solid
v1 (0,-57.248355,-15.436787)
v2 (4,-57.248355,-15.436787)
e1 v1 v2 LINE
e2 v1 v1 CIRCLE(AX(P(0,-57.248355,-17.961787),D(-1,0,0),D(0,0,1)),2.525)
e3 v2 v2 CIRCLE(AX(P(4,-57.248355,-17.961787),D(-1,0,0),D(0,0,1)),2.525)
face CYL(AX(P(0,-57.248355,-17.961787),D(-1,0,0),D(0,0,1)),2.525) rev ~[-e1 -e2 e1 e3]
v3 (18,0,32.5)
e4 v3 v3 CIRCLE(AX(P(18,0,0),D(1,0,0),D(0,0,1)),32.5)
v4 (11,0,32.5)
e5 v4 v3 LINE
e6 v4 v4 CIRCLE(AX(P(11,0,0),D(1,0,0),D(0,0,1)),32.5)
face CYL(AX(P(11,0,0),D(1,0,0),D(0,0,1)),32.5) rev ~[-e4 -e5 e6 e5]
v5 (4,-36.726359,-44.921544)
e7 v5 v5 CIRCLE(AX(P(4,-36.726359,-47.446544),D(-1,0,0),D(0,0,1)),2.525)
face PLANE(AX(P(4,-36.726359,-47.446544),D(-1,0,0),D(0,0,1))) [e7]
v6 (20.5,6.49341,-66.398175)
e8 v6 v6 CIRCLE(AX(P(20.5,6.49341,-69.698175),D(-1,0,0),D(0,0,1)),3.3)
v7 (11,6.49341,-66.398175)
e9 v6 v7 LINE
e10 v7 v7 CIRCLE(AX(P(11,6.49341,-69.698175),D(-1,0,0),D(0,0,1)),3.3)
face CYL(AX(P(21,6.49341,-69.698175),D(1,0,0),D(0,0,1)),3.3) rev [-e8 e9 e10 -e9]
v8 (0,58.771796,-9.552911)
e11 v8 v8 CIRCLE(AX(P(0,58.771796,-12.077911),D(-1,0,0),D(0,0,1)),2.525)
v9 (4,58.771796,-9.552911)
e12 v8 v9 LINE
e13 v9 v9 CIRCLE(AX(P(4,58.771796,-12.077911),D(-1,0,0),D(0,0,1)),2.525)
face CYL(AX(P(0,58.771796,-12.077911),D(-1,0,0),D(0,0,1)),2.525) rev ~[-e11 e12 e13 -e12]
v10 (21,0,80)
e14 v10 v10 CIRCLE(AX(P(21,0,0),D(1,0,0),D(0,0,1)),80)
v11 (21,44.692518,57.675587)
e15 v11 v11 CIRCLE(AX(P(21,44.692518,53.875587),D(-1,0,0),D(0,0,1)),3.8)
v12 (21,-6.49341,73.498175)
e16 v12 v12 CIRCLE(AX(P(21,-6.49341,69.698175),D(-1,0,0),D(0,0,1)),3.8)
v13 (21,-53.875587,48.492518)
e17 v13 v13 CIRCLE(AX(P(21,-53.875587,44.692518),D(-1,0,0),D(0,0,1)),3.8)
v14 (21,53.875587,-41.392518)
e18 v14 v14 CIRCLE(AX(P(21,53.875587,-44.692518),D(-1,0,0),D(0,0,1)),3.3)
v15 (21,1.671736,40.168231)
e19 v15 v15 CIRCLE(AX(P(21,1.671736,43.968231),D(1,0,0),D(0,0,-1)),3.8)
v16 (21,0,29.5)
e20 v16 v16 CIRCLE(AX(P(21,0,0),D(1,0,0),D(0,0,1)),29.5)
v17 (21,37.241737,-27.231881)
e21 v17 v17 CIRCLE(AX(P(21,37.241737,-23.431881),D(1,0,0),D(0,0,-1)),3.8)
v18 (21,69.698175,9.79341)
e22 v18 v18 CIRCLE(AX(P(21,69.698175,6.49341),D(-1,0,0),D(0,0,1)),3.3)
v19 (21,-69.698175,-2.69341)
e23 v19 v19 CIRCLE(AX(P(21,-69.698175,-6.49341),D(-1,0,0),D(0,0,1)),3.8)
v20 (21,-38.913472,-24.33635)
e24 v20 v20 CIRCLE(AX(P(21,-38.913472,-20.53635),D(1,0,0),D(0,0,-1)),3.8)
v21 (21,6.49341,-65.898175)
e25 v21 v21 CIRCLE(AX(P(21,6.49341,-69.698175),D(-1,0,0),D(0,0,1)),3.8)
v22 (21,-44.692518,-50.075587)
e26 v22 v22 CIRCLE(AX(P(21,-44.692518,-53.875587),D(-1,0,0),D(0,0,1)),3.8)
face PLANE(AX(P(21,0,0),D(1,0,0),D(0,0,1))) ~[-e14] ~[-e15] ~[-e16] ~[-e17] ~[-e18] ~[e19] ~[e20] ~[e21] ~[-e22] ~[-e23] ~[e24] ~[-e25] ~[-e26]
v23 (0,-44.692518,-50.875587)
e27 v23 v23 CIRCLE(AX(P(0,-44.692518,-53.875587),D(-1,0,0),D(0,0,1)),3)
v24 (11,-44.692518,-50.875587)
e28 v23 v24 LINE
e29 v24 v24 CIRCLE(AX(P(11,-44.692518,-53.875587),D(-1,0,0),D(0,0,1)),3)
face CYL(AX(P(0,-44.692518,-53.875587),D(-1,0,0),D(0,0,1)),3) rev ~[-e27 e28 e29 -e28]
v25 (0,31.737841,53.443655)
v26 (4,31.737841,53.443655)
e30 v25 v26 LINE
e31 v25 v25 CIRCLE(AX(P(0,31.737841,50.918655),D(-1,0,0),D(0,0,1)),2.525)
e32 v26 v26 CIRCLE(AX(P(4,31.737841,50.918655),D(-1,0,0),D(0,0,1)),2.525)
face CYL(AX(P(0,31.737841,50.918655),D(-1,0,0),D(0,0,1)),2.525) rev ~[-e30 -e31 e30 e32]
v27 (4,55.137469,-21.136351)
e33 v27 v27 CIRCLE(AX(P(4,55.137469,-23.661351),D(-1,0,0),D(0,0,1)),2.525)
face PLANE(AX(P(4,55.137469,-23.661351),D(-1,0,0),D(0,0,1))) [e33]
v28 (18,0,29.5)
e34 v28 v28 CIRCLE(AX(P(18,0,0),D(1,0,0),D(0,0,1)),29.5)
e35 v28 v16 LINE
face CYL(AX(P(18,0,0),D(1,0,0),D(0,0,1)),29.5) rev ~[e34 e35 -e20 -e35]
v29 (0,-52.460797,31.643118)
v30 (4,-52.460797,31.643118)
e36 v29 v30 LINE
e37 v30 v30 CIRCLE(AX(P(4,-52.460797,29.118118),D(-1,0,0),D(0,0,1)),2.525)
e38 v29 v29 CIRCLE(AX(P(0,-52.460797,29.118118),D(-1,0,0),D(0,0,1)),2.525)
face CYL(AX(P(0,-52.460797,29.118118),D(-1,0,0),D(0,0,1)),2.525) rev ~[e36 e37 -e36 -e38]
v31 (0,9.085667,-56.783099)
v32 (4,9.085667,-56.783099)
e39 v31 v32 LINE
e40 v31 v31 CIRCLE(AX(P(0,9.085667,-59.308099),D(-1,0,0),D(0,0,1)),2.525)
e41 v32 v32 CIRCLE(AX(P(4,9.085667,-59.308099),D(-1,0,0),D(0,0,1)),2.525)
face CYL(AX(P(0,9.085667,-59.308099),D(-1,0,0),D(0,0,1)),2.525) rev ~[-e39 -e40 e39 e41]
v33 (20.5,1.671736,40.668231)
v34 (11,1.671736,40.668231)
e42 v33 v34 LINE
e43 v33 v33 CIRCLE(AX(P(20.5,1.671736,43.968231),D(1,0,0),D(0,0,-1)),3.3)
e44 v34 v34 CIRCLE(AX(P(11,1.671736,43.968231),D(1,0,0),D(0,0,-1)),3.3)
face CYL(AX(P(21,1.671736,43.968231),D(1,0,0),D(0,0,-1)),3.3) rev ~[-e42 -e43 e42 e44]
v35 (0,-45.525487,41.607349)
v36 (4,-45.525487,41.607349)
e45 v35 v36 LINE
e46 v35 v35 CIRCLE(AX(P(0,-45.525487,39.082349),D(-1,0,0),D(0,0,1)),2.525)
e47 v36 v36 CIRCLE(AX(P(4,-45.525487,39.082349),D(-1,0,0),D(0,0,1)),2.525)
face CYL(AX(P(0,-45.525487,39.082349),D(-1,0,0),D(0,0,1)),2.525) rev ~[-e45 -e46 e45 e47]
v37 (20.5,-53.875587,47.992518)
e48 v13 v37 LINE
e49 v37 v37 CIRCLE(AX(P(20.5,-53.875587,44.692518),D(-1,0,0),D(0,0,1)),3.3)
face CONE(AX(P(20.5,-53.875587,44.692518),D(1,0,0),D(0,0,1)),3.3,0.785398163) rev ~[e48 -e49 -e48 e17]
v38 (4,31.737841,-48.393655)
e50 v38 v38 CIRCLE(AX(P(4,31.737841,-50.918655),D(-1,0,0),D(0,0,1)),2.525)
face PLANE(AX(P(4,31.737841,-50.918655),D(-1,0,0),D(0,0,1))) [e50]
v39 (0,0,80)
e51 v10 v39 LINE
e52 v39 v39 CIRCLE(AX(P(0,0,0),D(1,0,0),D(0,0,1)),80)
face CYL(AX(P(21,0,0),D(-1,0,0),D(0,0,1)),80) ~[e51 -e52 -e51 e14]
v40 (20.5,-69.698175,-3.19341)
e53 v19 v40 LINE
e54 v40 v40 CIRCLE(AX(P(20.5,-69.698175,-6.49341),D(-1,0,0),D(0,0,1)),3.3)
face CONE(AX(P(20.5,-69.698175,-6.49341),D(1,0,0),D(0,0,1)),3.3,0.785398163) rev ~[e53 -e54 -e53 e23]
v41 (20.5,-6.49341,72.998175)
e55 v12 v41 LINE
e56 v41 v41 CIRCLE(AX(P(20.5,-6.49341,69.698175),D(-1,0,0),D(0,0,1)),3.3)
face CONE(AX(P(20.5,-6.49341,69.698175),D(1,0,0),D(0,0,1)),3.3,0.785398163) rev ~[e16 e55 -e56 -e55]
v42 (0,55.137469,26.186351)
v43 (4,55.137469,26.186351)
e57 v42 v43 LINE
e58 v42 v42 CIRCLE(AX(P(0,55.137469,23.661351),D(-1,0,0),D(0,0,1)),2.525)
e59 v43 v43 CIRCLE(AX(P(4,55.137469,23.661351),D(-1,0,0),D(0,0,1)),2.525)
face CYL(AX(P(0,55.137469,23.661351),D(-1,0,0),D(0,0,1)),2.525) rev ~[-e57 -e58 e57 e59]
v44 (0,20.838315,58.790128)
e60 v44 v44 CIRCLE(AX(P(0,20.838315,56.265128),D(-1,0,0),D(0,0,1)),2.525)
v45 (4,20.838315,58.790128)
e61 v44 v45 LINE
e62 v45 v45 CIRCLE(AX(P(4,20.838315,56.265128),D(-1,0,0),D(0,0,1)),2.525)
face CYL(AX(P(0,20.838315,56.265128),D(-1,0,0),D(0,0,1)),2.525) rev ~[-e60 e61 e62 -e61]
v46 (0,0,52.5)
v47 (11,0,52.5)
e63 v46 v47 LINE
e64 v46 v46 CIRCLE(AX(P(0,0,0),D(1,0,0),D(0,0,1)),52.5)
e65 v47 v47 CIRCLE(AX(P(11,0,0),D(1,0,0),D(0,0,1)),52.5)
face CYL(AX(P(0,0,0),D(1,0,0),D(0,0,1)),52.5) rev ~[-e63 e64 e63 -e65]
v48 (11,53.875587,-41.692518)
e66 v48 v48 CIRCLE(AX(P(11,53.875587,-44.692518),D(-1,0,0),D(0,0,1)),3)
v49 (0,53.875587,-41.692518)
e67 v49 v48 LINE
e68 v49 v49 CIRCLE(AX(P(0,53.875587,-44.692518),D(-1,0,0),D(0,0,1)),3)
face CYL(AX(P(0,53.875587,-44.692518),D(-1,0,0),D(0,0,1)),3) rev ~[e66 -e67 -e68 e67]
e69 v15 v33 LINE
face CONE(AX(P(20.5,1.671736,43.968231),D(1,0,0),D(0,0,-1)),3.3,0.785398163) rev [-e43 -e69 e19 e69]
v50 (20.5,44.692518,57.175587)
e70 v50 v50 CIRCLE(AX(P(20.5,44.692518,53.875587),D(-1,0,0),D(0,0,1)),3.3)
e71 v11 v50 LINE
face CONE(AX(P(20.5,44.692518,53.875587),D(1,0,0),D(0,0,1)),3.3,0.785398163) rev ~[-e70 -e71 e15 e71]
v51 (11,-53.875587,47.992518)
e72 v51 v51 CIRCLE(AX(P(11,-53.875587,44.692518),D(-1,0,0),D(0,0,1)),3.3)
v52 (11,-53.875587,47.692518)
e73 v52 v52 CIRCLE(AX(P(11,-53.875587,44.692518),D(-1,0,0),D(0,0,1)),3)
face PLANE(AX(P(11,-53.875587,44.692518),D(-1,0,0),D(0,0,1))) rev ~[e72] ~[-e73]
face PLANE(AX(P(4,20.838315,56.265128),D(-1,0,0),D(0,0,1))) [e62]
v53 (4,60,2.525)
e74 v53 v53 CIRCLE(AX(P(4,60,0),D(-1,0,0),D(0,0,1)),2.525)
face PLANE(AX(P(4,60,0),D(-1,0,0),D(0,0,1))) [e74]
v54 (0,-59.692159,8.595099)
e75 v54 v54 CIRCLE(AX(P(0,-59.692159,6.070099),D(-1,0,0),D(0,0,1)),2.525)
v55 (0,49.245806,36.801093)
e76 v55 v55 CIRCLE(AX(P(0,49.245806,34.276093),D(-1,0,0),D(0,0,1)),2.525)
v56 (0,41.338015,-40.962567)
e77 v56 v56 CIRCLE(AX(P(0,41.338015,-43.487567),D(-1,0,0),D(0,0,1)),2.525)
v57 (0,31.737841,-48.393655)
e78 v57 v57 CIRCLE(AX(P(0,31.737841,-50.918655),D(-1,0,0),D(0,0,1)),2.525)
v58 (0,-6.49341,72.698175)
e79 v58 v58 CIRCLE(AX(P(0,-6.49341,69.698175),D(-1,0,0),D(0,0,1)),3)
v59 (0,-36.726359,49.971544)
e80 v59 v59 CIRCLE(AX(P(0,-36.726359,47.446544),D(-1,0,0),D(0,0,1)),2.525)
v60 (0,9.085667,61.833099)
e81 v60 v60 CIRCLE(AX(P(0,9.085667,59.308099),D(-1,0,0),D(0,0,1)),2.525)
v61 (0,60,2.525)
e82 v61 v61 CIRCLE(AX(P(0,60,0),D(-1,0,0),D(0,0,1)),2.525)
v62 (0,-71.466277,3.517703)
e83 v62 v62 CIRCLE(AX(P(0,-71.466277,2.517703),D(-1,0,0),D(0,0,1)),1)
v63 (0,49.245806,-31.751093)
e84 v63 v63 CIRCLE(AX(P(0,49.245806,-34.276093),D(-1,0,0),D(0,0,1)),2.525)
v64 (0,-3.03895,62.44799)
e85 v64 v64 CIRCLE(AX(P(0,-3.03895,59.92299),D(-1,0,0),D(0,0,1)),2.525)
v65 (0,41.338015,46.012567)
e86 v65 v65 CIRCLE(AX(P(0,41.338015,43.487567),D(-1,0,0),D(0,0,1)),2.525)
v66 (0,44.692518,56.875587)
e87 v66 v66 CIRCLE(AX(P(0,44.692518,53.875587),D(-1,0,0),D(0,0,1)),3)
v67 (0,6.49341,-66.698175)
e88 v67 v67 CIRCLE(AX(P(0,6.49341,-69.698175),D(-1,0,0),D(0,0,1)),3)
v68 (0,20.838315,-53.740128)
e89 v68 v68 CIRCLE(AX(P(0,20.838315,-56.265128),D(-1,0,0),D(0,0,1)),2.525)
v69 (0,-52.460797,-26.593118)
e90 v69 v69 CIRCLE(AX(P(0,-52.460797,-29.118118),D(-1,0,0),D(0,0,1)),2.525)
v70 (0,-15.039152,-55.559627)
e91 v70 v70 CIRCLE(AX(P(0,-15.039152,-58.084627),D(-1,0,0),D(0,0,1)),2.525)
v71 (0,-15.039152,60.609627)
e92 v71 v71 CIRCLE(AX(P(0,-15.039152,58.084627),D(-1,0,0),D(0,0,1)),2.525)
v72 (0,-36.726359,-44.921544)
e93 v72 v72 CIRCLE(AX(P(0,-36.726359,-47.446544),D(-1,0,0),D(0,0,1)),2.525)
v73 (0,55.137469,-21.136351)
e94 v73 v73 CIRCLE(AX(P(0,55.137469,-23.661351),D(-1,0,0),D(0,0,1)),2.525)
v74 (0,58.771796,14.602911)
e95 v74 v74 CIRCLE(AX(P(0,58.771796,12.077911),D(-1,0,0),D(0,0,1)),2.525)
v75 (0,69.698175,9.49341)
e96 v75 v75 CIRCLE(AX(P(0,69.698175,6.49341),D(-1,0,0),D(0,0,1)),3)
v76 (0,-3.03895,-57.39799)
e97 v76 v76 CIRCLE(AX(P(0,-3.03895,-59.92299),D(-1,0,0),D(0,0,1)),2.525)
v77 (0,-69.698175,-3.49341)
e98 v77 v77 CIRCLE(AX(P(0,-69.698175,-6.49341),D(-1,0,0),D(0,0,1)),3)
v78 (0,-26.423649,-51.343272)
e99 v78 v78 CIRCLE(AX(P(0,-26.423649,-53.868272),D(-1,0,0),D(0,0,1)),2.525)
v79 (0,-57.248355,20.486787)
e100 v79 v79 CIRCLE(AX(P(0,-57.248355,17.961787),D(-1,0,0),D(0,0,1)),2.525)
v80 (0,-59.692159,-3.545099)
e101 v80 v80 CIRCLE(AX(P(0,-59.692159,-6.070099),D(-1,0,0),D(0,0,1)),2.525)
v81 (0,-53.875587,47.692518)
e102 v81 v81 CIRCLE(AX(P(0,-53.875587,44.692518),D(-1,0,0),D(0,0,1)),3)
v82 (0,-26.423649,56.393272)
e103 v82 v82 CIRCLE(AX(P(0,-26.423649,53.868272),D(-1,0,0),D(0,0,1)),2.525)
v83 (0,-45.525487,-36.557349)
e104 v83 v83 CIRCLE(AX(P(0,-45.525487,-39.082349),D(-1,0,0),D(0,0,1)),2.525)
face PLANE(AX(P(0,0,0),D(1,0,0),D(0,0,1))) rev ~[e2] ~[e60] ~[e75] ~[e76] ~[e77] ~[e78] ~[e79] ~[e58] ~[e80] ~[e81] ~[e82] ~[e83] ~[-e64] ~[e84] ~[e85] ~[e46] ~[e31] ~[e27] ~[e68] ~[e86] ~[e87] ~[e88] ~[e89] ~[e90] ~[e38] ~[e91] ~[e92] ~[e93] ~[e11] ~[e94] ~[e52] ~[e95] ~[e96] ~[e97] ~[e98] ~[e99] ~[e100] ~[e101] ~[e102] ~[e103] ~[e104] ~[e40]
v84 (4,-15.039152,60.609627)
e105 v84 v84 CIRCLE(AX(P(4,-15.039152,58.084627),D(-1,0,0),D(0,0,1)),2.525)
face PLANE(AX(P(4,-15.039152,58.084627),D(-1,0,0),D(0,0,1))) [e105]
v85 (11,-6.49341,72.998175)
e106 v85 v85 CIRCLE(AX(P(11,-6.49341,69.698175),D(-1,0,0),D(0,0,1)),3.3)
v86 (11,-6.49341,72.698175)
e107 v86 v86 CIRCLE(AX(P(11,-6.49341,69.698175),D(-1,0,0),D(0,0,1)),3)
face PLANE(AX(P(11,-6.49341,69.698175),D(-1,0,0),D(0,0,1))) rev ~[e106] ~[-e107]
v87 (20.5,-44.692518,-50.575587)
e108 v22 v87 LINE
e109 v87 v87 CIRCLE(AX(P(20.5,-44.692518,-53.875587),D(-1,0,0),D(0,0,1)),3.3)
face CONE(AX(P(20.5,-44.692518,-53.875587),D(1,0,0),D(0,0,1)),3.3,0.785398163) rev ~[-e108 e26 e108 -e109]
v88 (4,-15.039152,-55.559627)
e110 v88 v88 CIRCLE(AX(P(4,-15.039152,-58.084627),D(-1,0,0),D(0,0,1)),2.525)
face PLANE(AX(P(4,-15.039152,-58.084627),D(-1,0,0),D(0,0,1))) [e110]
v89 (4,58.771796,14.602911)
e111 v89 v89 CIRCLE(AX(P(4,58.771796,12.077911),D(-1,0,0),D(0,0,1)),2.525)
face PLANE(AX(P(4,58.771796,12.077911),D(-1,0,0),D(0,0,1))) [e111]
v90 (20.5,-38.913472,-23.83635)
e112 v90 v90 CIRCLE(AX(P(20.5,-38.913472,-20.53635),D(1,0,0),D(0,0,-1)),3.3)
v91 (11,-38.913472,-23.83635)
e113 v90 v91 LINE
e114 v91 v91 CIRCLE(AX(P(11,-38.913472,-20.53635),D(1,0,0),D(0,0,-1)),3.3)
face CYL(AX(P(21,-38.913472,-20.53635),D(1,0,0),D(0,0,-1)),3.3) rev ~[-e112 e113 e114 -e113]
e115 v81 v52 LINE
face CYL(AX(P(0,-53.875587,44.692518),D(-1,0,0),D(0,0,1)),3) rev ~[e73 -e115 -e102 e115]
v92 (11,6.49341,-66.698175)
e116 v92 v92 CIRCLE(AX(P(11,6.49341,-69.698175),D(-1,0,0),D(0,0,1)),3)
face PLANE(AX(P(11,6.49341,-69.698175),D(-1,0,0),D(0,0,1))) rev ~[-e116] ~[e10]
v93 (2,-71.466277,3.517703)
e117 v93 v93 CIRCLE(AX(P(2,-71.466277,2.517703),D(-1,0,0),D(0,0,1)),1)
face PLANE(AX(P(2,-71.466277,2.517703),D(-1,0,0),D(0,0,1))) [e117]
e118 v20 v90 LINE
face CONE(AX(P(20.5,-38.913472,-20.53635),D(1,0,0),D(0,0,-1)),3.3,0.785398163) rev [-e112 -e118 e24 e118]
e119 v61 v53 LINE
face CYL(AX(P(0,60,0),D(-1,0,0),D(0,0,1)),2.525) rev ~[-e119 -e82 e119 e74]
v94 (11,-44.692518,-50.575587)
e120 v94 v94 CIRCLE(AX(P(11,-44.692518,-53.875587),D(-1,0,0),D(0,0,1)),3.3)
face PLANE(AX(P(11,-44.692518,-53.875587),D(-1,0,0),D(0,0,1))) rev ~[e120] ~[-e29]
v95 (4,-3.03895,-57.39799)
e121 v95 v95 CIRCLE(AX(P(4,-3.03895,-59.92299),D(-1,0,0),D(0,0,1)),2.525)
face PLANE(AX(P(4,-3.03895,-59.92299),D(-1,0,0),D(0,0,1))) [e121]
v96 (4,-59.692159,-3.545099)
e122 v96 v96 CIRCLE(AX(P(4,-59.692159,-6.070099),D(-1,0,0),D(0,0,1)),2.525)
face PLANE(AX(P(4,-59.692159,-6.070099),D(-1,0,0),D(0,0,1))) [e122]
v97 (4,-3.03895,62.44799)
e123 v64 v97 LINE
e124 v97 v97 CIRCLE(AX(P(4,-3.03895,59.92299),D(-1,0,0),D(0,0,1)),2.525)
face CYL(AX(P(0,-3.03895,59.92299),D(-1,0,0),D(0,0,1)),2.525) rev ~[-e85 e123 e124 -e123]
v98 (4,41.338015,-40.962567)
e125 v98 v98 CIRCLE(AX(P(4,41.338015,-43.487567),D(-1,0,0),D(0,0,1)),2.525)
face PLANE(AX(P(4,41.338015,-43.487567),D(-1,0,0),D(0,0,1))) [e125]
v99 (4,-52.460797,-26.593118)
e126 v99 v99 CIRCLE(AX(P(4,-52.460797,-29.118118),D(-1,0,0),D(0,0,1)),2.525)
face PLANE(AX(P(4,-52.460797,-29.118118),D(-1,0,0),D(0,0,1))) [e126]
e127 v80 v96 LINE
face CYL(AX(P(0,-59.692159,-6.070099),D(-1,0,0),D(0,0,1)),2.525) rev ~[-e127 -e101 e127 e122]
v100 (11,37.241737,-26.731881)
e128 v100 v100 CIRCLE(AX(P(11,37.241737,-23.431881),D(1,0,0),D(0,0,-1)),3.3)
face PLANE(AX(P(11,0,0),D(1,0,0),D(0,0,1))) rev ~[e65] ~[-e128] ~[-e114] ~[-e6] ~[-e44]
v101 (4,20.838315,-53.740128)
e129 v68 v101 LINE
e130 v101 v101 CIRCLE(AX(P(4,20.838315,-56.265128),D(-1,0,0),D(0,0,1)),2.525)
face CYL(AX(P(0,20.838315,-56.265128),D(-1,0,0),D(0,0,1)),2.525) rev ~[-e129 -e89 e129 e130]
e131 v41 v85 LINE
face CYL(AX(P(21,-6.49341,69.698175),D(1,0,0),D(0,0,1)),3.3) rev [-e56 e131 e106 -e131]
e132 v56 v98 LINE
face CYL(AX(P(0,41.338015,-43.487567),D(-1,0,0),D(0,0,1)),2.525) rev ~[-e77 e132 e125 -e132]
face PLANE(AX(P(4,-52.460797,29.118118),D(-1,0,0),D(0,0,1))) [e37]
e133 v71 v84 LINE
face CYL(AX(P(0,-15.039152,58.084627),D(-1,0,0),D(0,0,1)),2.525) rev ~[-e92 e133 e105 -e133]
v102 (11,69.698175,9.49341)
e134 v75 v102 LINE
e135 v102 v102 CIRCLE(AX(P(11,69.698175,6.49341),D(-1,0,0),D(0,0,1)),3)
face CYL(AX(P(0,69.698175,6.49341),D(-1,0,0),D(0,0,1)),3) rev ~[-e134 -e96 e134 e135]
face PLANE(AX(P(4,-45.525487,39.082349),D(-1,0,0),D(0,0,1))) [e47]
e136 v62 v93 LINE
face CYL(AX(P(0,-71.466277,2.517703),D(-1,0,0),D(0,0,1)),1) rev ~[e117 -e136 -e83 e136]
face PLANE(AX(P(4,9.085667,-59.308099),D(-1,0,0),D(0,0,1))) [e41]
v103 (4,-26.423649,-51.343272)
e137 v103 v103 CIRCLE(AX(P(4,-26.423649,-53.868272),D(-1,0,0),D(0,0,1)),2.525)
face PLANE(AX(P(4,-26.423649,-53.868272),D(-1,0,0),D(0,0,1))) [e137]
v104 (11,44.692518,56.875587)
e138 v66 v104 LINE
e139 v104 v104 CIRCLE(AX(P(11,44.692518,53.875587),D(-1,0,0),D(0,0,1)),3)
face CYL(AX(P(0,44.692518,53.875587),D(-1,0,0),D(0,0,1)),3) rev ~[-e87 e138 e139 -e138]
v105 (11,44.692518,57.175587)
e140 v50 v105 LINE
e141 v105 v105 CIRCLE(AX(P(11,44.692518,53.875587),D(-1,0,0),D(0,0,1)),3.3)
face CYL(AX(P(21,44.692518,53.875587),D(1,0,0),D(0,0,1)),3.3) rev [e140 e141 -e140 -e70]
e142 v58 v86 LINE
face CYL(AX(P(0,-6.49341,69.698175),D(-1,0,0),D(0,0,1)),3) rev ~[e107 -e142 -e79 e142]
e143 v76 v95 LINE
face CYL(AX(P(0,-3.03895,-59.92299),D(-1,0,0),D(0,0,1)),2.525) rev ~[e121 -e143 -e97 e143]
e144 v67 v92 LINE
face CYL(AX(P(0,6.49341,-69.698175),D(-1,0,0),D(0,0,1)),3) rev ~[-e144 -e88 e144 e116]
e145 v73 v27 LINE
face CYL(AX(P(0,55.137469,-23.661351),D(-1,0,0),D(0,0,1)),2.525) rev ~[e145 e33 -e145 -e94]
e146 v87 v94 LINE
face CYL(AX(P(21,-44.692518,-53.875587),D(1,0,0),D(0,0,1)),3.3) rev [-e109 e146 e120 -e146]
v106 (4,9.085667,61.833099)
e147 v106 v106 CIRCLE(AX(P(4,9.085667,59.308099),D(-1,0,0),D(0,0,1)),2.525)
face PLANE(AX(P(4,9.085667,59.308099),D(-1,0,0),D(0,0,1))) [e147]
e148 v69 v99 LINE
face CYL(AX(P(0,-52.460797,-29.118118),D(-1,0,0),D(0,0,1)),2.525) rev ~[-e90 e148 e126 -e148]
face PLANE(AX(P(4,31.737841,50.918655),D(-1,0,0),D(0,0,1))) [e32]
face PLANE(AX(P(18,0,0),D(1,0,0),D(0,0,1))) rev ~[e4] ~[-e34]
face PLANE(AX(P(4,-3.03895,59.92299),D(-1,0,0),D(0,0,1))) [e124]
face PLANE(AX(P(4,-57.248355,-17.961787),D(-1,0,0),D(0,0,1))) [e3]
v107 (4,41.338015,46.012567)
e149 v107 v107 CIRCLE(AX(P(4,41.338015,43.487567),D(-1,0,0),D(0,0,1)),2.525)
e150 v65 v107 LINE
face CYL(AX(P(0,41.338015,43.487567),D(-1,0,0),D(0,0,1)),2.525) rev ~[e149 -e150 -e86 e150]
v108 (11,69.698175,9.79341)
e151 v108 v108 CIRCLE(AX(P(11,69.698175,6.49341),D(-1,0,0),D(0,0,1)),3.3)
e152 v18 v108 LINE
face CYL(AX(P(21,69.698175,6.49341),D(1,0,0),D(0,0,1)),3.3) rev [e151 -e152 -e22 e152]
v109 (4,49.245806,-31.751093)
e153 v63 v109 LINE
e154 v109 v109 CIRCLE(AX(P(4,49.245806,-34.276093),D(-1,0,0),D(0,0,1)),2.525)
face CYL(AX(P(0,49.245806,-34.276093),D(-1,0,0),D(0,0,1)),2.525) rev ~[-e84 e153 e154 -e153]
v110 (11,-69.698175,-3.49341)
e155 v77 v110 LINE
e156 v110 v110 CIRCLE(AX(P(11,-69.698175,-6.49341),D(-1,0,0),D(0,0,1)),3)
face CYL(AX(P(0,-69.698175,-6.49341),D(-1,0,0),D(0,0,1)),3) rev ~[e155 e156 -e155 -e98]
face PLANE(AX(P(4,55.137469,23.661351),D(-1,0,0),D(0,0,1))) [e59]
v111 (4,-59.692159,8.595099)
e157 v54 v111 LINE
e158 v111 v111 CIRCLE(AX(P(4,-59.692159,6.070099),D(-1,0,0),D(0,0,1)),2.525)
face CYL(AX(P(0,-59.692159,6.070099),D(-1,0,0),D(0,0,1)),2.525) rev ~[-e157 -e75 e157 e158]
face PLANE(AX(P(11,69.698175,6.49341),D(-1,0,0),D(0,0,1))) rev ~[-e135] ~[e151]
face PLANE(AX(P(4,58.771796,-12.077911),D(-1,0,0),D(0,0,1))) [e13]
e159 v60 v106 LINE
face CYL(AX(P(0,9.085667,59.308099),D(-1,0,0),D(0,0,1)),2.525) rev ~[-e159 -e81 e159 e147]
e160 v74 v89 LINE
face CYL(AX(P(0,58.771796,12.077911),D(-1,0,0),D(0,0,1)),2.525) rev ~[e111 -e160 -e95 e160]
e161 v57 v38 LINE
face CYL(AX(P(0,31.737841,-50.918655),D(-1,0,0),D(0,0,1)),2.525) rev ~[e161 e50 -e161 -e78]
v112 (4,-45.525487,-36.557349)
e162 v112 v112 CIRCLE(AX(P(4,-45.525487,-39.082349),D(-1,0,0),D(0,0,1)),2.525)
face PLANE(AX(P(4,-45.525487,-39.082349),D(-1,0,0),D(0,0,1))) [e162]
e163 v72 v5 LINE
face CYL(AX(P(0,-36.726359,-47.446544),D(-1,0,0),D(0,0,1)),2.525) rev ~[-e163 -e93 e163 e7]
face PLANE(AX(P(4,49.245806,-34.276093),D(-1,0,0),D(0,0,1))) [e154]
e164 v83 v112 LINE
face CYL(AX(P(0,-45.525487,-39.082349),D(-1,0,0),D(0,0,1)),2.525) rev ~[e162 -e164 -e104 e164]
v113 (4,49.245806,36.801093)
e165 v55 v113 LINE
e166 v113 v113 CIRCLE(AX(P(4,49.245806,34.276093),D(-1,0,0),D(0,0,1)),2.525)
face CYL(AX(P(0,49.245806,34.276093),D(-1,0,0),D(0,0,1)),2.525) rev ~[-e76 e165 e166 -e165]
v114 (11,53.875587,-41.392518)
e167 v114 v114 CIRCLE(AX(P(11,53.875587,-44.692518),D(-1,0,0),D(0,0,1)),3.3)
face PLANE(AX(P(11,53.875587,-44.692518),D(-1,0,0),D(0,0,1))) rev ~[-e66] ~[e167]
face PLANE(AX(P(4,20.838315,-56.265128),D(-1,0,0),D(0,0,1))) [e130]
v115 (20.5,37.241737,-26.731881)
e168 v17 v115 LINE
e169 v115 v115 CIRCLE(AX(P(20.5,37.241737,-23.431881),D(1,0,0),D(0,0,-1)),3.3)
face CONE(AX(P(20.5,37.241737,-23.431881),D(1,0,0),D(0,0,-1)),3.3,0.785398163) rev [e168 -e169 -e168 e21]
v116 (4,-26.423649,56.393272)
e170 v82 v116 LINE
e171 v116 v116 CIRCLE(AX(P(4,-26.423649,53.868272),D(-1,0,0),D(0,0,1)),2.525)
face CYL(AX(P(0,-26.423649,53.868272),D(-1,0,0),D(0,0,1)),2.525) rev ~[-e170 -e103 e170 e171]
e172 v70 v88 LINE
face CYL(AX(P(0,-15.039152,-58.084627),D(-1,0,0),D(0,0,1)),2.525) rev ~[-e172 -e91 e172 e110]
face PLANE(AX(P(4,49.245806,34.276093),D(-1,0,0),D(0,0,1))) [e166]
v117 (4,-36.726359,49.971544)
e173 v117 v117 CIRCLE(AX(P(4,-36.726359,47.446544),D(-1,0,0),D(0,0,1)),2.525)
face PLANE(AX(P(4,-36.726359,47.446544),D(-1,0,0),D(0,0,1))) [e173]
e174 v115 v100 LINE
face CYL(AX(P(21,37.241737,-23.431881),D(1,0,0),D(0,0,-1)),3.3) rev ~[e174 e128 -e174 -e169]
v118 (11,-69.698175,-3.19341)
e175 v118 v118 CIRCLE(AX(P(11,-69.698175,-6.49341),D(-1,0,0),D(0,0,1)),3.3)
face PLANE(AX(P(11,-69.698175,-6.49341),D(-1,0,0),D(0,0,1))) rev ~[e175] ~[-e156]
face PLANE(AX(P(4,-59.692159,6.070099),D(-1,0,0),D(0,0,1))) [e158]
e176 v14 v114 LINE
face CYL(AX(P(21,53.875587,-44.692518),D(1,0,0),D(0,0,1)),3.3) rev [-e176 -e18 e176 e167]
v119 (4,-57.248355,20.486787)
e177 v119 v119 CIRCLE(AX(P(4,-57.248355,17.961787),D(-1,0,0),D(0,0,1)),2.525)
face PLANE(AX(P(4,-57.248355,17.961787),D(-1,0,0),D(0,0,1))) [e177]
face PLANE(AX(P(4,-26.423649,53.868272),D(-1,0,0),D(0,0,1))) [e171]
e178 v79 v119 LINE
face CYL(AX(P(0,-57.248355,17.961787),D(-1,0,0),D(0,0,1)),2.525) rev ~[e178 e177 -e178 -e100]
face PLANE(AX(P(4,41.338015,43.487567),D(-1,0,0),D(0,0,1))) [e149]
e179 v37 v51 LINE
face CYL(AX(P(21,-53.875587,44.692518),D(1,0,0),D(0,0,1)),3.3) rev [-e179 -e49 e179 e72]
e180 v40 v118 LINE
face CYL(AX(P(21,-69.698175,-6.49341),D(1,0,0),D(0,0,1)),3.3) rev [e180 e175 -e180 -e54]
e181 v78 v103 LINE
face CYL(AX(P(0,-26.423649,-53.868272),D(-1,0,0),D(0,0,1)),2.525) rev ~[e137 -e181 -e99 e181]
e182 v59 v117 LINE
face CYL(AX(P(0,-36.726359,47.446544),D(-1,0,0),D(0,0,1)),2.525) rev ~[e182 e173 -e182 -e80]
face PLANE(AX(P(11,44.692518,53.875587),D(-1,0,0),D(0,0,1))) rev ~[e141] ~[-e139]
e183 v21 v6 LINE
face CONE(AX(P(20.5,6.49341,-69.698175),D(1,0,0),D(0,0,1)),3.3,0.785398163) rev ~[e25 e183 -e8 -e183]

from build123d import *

# Parameters (mm, degrees)
SKETCH3_R          = 2.525
CUT_EXTRUDE1_DEPTH = 4
SKETCH6_R          = 3
CUT_EXTRUDE4_DEPTH = 11
SKETCH7_R          = 3.3
CUT_EXTRUDE5_DEPTH = 10
SKETCH9_R          = 1
CUT_EXTRUDE7_DEPTH = 2
CUT_EXTRUDE8_REACH = 117.07
SKETCH10_R         = 3.3
CHAMFER1_SIZE      = 0.5


with BuildPart() as part:
    # Sketch2 → Revolve1 (revolve)
    with BuildSketch(Plane.XY, mode=Mode.PRIVATE) as revolve1_sk:
        Polygon((0, 80), (0, 52.5), (11, 52.5), (11, 32.5), (18, 32.5), (18, 29.5), (21, 29.5), (21, 80), align=None)
    revolve(revolve1_sk.sketch.rotate(Axis((0, 0, 0), (1, 0, 0)), 90), axis=Axis((0, 0, 0), (1, 0, 0)))

    # Sketch3 → Cut-Extrude1 (cut)
    with BuildSketch(Plane.ZY):
        with Locations((0, 60)):
            Circle(SKETCH3_R)
        with Locations((12.077911205, 58.771796475)):
            Circle(SKETCH3_R)
        with Locations((23.661351307, 55.137468697)):
            Circle(SKETCH3_R)
        with Locations((34.276092906, 49.245806472)):
            Circle(SKETCH3_R)
        with Locations((43.487567234, 41.338015145)):
            Circle(SKETCH3_R)
        with Locations((50.91865545, 31.73784062)):
            Circle(SKETCH3_R)
        with Locations((56.265127929, 20.838315171)):
            Circle(SKETCH3_R)
        with Locations((59.30809946, 9.08566665)):
            Circle(SKETCH3_R)
        with Locations((59.92299043, -3.03895013)):
            Circle(SKETCH3_R)
        with Locations((58.084627132, -15.039151936)):
            Circle(SKETCH3_R)
        with Locations((53.868272374, -26.423649093)):
            Circle(SKETCH3_R)
        with Locations((47.446544216, -36.726358953)):
            Circle(SKETCH3_R)
        with Locations((39.082348963, -45.525487362)):
            Circle(SKETCH3_R)
        with Locations((29.118117752, -52.460796969)):
            Circle(SKETCH3_R)
        with Locations((17.961787378, -57.248355384)):
            Circle(SKETCH3_R)
        with Locations((6.070099319, -59.692159404)):
            Circle(SKETCH3_R)
        with Locations((-6.070099319, -59.692159404)):
            Circle(SKETCH3_R)
        with Locations((-17.961787378, -57.248355384)):
            Circle(SKETCH3_R)
        with Locations((-29.118117752, -52.460796969)):
            Circle(SKETCH3_R)
        with Locations((-39.082348963, -45.525487362)):
            Circle(SKETCH3_R)
        with Locations((-47.446544216, -36.726358953)):
            Circle(SKETCH3_R)
        with Locations((-53.868272374, -26.423649093)):
            Circle(SKETCH3_R)
        with Locations((-58.084627132, -15.039151936)):
            Circle(SKETCH3_R)
        with Locations((-59.92299043, -3.03895013)):
            Circle(SKETCH3_R)
        with Locations((-59.30809946, 9.08566665)):
            Circle(SKETCH3_R)
        with Locations((-56.265127929, 20.838315171)):
            Circle(SKETCH3_R)
        with Locations((-50.91865545, 31.73784062)):
            Circle(SKETCH3_R)
        with Locations((-43.487567234, 41.338015145)):
            Circle(SKETCH3_R)
        with Locations((-34.276092906, 49.245806472)):
            Circle(SKETCH3_R)
        with Locations((-23.661351307, 55.137468697)):
            Circle(SKETCH3_R)
        with Locations((-12.077911205, 58.771796475)):
            Circle(SKETCH3_R)
    extrude(amount=-CUT_EXTRUDE1_DEPTH, mode=Mode.SUBTRACT)

    # Sketch6 → Cut-Extrude4 (cut)
    with BuildSketch(Plane.ZY):
        with Locations((53.875586653, 44.692517973)):
            Circle(SKETCH6_R)
        with Locations((69.69817519, -6.493410136)):
            Circle(SKETCH6_R)
        with Locations((44.692517973, -53.875586653)):
            Circle(SKETCH6_R)
        with Locations((-6.493410136, -69.69817519)):
            Circle(SKETCH6_R)
        with Locations((-53.875586653, -44.692517973)):
            Circle(SKETCH6_R)
        with Locations((-69.69817519, 6.493410136)):
            Circle(SKETCH6_R)
        with Locations((-44.692517973, 53.875586653)):
            Circle(SKETCH6_R)
        with Locations((6.493410136, 69.69817519)):
            Circle(SKETCH6_R)
    extrude(amount=-CUT_EXTRUDE4_DEPTH, mode=Mode.SUBTRACT)

    # Sketch7 → Cut-Extrude5 (cut)
    with BuildSketch(Plane.ZY.offset(-21)):
        with Locations((53.875586653, 44.692517973)):
            Circle(SKETCH7_R)
        with Locations((69.69817519, -6.493410136)):
            Circle(SKETCH7_R)
        with Locations((44.692517973, -53.875586653)):
            Circle(SKETCH7_R)
        with Locations((-6.493410136, -69.69817519)):
            Circle(SKETCH7_R)
        with Locations((-53.875586653, -44.692517973)):
            Circle(SKETCH7_R)
        with Locations((-69.69817519, 6.493410136)):
            Circle(SKETCH7_R)
        with Locations((-44.692517973, 53.875586653)):
            Circle(SKETCH7_R)
        with Locations((6.493410136, 69.69817519)):
            Circle(SKETCH7_R)
    extrude(amount=CUT_EXTRUDE5_DEPTH, mode=Mode.SUBTRACT)

    # Sketch9 → Cut-Extrude7 (cut)
    with BuildSketch(Plane.ZY):
        with Locations((2.51770285, -71.46627686)):
            Circle(SKETCH9_R)
    extrude(amount=-CUT_EXTRUDE7_DEPTH, mode=Mode.SUBTRACT)

    # Sketch10 → Cut-Extrude8 (cut, up to next)
    with BuildSketch(Plane(origin=(21, 0, 0), x_dir=(0, 0, -1), z_dir=(1, 0, 0)), mode=Mode.PRIVATE) as cut_extrude8_sk1:
        with Locations((23.431880753, 37.241736861)):
            Circle(SKETCH10_R)
    cut_extrude8_tool1 = extrude(cut_extrude8_sk1.sketch, amount=-CUT_EXTRUDE8_REACH, mode=Mode.PRIVATE) & part.part
    # Sketch10 → Cut-Extrude8 (cut, up to next)
    with BuildSketch(Plane(origin=(21, 0, 0), x_dir=(0, 0, -1), z_dir=(1, 0, 0)), mode=Mode.PRIVATE) as cut_extrude8_sk2:
        with Locations((20.536349826, -38.913472421)):
            Circle(SKETCH10_R)
    cut_extrude8_tool2 = extrude(cut_extrude8_sk2.sketch, amount=-CUT_EXTRUDE8_REACH, mode=Mode.PRIVATE) & part.part
    # Sketch10 → Cut-Extrude8 (cut, up to next)
    with BuildSketch(Plane(origin=(21, 0, 0), x_dir=(0, 0, -1), z_dir=(1, 0, 0)), mode=Mode.PRIVATE) as cut_extrude8_sk3:
        with Locations((-43.968230579, 1.67173556)):
            Circle(SKETCH10_R)
    cut_extrude8_tool3 = extrude(cut_extrude8_sk3.sketch, amount=-CUT_EXTRUDE8_REACH, mode=Mode.PRIVATE) & part.part
    add(cut_extrude8_tool1.solids().sort_by_distance((21, 37.241737, -23.431881))[0], mode=Mode.SUBTRACT)
    add(cut_extrude8_tool2.solids().sort_by_distance((21, -38.913472, -20.53635))[0], mode=Mode.SUBTRACT)
    add(cut_extrude8_tool3.solids().sort_by_distance((21, 1.671736, 43.968231))[0], mode=Mode.SUBTRACT)

    # Chamfer1
    chamfer1_edges = [part.edges().sort_by_distance(p)[0] for p in [
        (21, -6.493410136, 66.39817519),
        (21, -53.875586653, 41.392517973),
        (21, -69.69817519, -9.793410136),
        (21, -44.692517973, -57.175586653),
        (21, 6.493410136, -72.99817519),
        (21, 44.692517973, 50.575586653),
        (21, 37.241736861, -20.131880753),
        (21, -38.913472421, -17.236349826),
        (21, 1.67173556, 47.268230579),
    ]]
    chamfer(chamfer1_edges, length=CHAMFER1_SIZE)


solid = part.part
